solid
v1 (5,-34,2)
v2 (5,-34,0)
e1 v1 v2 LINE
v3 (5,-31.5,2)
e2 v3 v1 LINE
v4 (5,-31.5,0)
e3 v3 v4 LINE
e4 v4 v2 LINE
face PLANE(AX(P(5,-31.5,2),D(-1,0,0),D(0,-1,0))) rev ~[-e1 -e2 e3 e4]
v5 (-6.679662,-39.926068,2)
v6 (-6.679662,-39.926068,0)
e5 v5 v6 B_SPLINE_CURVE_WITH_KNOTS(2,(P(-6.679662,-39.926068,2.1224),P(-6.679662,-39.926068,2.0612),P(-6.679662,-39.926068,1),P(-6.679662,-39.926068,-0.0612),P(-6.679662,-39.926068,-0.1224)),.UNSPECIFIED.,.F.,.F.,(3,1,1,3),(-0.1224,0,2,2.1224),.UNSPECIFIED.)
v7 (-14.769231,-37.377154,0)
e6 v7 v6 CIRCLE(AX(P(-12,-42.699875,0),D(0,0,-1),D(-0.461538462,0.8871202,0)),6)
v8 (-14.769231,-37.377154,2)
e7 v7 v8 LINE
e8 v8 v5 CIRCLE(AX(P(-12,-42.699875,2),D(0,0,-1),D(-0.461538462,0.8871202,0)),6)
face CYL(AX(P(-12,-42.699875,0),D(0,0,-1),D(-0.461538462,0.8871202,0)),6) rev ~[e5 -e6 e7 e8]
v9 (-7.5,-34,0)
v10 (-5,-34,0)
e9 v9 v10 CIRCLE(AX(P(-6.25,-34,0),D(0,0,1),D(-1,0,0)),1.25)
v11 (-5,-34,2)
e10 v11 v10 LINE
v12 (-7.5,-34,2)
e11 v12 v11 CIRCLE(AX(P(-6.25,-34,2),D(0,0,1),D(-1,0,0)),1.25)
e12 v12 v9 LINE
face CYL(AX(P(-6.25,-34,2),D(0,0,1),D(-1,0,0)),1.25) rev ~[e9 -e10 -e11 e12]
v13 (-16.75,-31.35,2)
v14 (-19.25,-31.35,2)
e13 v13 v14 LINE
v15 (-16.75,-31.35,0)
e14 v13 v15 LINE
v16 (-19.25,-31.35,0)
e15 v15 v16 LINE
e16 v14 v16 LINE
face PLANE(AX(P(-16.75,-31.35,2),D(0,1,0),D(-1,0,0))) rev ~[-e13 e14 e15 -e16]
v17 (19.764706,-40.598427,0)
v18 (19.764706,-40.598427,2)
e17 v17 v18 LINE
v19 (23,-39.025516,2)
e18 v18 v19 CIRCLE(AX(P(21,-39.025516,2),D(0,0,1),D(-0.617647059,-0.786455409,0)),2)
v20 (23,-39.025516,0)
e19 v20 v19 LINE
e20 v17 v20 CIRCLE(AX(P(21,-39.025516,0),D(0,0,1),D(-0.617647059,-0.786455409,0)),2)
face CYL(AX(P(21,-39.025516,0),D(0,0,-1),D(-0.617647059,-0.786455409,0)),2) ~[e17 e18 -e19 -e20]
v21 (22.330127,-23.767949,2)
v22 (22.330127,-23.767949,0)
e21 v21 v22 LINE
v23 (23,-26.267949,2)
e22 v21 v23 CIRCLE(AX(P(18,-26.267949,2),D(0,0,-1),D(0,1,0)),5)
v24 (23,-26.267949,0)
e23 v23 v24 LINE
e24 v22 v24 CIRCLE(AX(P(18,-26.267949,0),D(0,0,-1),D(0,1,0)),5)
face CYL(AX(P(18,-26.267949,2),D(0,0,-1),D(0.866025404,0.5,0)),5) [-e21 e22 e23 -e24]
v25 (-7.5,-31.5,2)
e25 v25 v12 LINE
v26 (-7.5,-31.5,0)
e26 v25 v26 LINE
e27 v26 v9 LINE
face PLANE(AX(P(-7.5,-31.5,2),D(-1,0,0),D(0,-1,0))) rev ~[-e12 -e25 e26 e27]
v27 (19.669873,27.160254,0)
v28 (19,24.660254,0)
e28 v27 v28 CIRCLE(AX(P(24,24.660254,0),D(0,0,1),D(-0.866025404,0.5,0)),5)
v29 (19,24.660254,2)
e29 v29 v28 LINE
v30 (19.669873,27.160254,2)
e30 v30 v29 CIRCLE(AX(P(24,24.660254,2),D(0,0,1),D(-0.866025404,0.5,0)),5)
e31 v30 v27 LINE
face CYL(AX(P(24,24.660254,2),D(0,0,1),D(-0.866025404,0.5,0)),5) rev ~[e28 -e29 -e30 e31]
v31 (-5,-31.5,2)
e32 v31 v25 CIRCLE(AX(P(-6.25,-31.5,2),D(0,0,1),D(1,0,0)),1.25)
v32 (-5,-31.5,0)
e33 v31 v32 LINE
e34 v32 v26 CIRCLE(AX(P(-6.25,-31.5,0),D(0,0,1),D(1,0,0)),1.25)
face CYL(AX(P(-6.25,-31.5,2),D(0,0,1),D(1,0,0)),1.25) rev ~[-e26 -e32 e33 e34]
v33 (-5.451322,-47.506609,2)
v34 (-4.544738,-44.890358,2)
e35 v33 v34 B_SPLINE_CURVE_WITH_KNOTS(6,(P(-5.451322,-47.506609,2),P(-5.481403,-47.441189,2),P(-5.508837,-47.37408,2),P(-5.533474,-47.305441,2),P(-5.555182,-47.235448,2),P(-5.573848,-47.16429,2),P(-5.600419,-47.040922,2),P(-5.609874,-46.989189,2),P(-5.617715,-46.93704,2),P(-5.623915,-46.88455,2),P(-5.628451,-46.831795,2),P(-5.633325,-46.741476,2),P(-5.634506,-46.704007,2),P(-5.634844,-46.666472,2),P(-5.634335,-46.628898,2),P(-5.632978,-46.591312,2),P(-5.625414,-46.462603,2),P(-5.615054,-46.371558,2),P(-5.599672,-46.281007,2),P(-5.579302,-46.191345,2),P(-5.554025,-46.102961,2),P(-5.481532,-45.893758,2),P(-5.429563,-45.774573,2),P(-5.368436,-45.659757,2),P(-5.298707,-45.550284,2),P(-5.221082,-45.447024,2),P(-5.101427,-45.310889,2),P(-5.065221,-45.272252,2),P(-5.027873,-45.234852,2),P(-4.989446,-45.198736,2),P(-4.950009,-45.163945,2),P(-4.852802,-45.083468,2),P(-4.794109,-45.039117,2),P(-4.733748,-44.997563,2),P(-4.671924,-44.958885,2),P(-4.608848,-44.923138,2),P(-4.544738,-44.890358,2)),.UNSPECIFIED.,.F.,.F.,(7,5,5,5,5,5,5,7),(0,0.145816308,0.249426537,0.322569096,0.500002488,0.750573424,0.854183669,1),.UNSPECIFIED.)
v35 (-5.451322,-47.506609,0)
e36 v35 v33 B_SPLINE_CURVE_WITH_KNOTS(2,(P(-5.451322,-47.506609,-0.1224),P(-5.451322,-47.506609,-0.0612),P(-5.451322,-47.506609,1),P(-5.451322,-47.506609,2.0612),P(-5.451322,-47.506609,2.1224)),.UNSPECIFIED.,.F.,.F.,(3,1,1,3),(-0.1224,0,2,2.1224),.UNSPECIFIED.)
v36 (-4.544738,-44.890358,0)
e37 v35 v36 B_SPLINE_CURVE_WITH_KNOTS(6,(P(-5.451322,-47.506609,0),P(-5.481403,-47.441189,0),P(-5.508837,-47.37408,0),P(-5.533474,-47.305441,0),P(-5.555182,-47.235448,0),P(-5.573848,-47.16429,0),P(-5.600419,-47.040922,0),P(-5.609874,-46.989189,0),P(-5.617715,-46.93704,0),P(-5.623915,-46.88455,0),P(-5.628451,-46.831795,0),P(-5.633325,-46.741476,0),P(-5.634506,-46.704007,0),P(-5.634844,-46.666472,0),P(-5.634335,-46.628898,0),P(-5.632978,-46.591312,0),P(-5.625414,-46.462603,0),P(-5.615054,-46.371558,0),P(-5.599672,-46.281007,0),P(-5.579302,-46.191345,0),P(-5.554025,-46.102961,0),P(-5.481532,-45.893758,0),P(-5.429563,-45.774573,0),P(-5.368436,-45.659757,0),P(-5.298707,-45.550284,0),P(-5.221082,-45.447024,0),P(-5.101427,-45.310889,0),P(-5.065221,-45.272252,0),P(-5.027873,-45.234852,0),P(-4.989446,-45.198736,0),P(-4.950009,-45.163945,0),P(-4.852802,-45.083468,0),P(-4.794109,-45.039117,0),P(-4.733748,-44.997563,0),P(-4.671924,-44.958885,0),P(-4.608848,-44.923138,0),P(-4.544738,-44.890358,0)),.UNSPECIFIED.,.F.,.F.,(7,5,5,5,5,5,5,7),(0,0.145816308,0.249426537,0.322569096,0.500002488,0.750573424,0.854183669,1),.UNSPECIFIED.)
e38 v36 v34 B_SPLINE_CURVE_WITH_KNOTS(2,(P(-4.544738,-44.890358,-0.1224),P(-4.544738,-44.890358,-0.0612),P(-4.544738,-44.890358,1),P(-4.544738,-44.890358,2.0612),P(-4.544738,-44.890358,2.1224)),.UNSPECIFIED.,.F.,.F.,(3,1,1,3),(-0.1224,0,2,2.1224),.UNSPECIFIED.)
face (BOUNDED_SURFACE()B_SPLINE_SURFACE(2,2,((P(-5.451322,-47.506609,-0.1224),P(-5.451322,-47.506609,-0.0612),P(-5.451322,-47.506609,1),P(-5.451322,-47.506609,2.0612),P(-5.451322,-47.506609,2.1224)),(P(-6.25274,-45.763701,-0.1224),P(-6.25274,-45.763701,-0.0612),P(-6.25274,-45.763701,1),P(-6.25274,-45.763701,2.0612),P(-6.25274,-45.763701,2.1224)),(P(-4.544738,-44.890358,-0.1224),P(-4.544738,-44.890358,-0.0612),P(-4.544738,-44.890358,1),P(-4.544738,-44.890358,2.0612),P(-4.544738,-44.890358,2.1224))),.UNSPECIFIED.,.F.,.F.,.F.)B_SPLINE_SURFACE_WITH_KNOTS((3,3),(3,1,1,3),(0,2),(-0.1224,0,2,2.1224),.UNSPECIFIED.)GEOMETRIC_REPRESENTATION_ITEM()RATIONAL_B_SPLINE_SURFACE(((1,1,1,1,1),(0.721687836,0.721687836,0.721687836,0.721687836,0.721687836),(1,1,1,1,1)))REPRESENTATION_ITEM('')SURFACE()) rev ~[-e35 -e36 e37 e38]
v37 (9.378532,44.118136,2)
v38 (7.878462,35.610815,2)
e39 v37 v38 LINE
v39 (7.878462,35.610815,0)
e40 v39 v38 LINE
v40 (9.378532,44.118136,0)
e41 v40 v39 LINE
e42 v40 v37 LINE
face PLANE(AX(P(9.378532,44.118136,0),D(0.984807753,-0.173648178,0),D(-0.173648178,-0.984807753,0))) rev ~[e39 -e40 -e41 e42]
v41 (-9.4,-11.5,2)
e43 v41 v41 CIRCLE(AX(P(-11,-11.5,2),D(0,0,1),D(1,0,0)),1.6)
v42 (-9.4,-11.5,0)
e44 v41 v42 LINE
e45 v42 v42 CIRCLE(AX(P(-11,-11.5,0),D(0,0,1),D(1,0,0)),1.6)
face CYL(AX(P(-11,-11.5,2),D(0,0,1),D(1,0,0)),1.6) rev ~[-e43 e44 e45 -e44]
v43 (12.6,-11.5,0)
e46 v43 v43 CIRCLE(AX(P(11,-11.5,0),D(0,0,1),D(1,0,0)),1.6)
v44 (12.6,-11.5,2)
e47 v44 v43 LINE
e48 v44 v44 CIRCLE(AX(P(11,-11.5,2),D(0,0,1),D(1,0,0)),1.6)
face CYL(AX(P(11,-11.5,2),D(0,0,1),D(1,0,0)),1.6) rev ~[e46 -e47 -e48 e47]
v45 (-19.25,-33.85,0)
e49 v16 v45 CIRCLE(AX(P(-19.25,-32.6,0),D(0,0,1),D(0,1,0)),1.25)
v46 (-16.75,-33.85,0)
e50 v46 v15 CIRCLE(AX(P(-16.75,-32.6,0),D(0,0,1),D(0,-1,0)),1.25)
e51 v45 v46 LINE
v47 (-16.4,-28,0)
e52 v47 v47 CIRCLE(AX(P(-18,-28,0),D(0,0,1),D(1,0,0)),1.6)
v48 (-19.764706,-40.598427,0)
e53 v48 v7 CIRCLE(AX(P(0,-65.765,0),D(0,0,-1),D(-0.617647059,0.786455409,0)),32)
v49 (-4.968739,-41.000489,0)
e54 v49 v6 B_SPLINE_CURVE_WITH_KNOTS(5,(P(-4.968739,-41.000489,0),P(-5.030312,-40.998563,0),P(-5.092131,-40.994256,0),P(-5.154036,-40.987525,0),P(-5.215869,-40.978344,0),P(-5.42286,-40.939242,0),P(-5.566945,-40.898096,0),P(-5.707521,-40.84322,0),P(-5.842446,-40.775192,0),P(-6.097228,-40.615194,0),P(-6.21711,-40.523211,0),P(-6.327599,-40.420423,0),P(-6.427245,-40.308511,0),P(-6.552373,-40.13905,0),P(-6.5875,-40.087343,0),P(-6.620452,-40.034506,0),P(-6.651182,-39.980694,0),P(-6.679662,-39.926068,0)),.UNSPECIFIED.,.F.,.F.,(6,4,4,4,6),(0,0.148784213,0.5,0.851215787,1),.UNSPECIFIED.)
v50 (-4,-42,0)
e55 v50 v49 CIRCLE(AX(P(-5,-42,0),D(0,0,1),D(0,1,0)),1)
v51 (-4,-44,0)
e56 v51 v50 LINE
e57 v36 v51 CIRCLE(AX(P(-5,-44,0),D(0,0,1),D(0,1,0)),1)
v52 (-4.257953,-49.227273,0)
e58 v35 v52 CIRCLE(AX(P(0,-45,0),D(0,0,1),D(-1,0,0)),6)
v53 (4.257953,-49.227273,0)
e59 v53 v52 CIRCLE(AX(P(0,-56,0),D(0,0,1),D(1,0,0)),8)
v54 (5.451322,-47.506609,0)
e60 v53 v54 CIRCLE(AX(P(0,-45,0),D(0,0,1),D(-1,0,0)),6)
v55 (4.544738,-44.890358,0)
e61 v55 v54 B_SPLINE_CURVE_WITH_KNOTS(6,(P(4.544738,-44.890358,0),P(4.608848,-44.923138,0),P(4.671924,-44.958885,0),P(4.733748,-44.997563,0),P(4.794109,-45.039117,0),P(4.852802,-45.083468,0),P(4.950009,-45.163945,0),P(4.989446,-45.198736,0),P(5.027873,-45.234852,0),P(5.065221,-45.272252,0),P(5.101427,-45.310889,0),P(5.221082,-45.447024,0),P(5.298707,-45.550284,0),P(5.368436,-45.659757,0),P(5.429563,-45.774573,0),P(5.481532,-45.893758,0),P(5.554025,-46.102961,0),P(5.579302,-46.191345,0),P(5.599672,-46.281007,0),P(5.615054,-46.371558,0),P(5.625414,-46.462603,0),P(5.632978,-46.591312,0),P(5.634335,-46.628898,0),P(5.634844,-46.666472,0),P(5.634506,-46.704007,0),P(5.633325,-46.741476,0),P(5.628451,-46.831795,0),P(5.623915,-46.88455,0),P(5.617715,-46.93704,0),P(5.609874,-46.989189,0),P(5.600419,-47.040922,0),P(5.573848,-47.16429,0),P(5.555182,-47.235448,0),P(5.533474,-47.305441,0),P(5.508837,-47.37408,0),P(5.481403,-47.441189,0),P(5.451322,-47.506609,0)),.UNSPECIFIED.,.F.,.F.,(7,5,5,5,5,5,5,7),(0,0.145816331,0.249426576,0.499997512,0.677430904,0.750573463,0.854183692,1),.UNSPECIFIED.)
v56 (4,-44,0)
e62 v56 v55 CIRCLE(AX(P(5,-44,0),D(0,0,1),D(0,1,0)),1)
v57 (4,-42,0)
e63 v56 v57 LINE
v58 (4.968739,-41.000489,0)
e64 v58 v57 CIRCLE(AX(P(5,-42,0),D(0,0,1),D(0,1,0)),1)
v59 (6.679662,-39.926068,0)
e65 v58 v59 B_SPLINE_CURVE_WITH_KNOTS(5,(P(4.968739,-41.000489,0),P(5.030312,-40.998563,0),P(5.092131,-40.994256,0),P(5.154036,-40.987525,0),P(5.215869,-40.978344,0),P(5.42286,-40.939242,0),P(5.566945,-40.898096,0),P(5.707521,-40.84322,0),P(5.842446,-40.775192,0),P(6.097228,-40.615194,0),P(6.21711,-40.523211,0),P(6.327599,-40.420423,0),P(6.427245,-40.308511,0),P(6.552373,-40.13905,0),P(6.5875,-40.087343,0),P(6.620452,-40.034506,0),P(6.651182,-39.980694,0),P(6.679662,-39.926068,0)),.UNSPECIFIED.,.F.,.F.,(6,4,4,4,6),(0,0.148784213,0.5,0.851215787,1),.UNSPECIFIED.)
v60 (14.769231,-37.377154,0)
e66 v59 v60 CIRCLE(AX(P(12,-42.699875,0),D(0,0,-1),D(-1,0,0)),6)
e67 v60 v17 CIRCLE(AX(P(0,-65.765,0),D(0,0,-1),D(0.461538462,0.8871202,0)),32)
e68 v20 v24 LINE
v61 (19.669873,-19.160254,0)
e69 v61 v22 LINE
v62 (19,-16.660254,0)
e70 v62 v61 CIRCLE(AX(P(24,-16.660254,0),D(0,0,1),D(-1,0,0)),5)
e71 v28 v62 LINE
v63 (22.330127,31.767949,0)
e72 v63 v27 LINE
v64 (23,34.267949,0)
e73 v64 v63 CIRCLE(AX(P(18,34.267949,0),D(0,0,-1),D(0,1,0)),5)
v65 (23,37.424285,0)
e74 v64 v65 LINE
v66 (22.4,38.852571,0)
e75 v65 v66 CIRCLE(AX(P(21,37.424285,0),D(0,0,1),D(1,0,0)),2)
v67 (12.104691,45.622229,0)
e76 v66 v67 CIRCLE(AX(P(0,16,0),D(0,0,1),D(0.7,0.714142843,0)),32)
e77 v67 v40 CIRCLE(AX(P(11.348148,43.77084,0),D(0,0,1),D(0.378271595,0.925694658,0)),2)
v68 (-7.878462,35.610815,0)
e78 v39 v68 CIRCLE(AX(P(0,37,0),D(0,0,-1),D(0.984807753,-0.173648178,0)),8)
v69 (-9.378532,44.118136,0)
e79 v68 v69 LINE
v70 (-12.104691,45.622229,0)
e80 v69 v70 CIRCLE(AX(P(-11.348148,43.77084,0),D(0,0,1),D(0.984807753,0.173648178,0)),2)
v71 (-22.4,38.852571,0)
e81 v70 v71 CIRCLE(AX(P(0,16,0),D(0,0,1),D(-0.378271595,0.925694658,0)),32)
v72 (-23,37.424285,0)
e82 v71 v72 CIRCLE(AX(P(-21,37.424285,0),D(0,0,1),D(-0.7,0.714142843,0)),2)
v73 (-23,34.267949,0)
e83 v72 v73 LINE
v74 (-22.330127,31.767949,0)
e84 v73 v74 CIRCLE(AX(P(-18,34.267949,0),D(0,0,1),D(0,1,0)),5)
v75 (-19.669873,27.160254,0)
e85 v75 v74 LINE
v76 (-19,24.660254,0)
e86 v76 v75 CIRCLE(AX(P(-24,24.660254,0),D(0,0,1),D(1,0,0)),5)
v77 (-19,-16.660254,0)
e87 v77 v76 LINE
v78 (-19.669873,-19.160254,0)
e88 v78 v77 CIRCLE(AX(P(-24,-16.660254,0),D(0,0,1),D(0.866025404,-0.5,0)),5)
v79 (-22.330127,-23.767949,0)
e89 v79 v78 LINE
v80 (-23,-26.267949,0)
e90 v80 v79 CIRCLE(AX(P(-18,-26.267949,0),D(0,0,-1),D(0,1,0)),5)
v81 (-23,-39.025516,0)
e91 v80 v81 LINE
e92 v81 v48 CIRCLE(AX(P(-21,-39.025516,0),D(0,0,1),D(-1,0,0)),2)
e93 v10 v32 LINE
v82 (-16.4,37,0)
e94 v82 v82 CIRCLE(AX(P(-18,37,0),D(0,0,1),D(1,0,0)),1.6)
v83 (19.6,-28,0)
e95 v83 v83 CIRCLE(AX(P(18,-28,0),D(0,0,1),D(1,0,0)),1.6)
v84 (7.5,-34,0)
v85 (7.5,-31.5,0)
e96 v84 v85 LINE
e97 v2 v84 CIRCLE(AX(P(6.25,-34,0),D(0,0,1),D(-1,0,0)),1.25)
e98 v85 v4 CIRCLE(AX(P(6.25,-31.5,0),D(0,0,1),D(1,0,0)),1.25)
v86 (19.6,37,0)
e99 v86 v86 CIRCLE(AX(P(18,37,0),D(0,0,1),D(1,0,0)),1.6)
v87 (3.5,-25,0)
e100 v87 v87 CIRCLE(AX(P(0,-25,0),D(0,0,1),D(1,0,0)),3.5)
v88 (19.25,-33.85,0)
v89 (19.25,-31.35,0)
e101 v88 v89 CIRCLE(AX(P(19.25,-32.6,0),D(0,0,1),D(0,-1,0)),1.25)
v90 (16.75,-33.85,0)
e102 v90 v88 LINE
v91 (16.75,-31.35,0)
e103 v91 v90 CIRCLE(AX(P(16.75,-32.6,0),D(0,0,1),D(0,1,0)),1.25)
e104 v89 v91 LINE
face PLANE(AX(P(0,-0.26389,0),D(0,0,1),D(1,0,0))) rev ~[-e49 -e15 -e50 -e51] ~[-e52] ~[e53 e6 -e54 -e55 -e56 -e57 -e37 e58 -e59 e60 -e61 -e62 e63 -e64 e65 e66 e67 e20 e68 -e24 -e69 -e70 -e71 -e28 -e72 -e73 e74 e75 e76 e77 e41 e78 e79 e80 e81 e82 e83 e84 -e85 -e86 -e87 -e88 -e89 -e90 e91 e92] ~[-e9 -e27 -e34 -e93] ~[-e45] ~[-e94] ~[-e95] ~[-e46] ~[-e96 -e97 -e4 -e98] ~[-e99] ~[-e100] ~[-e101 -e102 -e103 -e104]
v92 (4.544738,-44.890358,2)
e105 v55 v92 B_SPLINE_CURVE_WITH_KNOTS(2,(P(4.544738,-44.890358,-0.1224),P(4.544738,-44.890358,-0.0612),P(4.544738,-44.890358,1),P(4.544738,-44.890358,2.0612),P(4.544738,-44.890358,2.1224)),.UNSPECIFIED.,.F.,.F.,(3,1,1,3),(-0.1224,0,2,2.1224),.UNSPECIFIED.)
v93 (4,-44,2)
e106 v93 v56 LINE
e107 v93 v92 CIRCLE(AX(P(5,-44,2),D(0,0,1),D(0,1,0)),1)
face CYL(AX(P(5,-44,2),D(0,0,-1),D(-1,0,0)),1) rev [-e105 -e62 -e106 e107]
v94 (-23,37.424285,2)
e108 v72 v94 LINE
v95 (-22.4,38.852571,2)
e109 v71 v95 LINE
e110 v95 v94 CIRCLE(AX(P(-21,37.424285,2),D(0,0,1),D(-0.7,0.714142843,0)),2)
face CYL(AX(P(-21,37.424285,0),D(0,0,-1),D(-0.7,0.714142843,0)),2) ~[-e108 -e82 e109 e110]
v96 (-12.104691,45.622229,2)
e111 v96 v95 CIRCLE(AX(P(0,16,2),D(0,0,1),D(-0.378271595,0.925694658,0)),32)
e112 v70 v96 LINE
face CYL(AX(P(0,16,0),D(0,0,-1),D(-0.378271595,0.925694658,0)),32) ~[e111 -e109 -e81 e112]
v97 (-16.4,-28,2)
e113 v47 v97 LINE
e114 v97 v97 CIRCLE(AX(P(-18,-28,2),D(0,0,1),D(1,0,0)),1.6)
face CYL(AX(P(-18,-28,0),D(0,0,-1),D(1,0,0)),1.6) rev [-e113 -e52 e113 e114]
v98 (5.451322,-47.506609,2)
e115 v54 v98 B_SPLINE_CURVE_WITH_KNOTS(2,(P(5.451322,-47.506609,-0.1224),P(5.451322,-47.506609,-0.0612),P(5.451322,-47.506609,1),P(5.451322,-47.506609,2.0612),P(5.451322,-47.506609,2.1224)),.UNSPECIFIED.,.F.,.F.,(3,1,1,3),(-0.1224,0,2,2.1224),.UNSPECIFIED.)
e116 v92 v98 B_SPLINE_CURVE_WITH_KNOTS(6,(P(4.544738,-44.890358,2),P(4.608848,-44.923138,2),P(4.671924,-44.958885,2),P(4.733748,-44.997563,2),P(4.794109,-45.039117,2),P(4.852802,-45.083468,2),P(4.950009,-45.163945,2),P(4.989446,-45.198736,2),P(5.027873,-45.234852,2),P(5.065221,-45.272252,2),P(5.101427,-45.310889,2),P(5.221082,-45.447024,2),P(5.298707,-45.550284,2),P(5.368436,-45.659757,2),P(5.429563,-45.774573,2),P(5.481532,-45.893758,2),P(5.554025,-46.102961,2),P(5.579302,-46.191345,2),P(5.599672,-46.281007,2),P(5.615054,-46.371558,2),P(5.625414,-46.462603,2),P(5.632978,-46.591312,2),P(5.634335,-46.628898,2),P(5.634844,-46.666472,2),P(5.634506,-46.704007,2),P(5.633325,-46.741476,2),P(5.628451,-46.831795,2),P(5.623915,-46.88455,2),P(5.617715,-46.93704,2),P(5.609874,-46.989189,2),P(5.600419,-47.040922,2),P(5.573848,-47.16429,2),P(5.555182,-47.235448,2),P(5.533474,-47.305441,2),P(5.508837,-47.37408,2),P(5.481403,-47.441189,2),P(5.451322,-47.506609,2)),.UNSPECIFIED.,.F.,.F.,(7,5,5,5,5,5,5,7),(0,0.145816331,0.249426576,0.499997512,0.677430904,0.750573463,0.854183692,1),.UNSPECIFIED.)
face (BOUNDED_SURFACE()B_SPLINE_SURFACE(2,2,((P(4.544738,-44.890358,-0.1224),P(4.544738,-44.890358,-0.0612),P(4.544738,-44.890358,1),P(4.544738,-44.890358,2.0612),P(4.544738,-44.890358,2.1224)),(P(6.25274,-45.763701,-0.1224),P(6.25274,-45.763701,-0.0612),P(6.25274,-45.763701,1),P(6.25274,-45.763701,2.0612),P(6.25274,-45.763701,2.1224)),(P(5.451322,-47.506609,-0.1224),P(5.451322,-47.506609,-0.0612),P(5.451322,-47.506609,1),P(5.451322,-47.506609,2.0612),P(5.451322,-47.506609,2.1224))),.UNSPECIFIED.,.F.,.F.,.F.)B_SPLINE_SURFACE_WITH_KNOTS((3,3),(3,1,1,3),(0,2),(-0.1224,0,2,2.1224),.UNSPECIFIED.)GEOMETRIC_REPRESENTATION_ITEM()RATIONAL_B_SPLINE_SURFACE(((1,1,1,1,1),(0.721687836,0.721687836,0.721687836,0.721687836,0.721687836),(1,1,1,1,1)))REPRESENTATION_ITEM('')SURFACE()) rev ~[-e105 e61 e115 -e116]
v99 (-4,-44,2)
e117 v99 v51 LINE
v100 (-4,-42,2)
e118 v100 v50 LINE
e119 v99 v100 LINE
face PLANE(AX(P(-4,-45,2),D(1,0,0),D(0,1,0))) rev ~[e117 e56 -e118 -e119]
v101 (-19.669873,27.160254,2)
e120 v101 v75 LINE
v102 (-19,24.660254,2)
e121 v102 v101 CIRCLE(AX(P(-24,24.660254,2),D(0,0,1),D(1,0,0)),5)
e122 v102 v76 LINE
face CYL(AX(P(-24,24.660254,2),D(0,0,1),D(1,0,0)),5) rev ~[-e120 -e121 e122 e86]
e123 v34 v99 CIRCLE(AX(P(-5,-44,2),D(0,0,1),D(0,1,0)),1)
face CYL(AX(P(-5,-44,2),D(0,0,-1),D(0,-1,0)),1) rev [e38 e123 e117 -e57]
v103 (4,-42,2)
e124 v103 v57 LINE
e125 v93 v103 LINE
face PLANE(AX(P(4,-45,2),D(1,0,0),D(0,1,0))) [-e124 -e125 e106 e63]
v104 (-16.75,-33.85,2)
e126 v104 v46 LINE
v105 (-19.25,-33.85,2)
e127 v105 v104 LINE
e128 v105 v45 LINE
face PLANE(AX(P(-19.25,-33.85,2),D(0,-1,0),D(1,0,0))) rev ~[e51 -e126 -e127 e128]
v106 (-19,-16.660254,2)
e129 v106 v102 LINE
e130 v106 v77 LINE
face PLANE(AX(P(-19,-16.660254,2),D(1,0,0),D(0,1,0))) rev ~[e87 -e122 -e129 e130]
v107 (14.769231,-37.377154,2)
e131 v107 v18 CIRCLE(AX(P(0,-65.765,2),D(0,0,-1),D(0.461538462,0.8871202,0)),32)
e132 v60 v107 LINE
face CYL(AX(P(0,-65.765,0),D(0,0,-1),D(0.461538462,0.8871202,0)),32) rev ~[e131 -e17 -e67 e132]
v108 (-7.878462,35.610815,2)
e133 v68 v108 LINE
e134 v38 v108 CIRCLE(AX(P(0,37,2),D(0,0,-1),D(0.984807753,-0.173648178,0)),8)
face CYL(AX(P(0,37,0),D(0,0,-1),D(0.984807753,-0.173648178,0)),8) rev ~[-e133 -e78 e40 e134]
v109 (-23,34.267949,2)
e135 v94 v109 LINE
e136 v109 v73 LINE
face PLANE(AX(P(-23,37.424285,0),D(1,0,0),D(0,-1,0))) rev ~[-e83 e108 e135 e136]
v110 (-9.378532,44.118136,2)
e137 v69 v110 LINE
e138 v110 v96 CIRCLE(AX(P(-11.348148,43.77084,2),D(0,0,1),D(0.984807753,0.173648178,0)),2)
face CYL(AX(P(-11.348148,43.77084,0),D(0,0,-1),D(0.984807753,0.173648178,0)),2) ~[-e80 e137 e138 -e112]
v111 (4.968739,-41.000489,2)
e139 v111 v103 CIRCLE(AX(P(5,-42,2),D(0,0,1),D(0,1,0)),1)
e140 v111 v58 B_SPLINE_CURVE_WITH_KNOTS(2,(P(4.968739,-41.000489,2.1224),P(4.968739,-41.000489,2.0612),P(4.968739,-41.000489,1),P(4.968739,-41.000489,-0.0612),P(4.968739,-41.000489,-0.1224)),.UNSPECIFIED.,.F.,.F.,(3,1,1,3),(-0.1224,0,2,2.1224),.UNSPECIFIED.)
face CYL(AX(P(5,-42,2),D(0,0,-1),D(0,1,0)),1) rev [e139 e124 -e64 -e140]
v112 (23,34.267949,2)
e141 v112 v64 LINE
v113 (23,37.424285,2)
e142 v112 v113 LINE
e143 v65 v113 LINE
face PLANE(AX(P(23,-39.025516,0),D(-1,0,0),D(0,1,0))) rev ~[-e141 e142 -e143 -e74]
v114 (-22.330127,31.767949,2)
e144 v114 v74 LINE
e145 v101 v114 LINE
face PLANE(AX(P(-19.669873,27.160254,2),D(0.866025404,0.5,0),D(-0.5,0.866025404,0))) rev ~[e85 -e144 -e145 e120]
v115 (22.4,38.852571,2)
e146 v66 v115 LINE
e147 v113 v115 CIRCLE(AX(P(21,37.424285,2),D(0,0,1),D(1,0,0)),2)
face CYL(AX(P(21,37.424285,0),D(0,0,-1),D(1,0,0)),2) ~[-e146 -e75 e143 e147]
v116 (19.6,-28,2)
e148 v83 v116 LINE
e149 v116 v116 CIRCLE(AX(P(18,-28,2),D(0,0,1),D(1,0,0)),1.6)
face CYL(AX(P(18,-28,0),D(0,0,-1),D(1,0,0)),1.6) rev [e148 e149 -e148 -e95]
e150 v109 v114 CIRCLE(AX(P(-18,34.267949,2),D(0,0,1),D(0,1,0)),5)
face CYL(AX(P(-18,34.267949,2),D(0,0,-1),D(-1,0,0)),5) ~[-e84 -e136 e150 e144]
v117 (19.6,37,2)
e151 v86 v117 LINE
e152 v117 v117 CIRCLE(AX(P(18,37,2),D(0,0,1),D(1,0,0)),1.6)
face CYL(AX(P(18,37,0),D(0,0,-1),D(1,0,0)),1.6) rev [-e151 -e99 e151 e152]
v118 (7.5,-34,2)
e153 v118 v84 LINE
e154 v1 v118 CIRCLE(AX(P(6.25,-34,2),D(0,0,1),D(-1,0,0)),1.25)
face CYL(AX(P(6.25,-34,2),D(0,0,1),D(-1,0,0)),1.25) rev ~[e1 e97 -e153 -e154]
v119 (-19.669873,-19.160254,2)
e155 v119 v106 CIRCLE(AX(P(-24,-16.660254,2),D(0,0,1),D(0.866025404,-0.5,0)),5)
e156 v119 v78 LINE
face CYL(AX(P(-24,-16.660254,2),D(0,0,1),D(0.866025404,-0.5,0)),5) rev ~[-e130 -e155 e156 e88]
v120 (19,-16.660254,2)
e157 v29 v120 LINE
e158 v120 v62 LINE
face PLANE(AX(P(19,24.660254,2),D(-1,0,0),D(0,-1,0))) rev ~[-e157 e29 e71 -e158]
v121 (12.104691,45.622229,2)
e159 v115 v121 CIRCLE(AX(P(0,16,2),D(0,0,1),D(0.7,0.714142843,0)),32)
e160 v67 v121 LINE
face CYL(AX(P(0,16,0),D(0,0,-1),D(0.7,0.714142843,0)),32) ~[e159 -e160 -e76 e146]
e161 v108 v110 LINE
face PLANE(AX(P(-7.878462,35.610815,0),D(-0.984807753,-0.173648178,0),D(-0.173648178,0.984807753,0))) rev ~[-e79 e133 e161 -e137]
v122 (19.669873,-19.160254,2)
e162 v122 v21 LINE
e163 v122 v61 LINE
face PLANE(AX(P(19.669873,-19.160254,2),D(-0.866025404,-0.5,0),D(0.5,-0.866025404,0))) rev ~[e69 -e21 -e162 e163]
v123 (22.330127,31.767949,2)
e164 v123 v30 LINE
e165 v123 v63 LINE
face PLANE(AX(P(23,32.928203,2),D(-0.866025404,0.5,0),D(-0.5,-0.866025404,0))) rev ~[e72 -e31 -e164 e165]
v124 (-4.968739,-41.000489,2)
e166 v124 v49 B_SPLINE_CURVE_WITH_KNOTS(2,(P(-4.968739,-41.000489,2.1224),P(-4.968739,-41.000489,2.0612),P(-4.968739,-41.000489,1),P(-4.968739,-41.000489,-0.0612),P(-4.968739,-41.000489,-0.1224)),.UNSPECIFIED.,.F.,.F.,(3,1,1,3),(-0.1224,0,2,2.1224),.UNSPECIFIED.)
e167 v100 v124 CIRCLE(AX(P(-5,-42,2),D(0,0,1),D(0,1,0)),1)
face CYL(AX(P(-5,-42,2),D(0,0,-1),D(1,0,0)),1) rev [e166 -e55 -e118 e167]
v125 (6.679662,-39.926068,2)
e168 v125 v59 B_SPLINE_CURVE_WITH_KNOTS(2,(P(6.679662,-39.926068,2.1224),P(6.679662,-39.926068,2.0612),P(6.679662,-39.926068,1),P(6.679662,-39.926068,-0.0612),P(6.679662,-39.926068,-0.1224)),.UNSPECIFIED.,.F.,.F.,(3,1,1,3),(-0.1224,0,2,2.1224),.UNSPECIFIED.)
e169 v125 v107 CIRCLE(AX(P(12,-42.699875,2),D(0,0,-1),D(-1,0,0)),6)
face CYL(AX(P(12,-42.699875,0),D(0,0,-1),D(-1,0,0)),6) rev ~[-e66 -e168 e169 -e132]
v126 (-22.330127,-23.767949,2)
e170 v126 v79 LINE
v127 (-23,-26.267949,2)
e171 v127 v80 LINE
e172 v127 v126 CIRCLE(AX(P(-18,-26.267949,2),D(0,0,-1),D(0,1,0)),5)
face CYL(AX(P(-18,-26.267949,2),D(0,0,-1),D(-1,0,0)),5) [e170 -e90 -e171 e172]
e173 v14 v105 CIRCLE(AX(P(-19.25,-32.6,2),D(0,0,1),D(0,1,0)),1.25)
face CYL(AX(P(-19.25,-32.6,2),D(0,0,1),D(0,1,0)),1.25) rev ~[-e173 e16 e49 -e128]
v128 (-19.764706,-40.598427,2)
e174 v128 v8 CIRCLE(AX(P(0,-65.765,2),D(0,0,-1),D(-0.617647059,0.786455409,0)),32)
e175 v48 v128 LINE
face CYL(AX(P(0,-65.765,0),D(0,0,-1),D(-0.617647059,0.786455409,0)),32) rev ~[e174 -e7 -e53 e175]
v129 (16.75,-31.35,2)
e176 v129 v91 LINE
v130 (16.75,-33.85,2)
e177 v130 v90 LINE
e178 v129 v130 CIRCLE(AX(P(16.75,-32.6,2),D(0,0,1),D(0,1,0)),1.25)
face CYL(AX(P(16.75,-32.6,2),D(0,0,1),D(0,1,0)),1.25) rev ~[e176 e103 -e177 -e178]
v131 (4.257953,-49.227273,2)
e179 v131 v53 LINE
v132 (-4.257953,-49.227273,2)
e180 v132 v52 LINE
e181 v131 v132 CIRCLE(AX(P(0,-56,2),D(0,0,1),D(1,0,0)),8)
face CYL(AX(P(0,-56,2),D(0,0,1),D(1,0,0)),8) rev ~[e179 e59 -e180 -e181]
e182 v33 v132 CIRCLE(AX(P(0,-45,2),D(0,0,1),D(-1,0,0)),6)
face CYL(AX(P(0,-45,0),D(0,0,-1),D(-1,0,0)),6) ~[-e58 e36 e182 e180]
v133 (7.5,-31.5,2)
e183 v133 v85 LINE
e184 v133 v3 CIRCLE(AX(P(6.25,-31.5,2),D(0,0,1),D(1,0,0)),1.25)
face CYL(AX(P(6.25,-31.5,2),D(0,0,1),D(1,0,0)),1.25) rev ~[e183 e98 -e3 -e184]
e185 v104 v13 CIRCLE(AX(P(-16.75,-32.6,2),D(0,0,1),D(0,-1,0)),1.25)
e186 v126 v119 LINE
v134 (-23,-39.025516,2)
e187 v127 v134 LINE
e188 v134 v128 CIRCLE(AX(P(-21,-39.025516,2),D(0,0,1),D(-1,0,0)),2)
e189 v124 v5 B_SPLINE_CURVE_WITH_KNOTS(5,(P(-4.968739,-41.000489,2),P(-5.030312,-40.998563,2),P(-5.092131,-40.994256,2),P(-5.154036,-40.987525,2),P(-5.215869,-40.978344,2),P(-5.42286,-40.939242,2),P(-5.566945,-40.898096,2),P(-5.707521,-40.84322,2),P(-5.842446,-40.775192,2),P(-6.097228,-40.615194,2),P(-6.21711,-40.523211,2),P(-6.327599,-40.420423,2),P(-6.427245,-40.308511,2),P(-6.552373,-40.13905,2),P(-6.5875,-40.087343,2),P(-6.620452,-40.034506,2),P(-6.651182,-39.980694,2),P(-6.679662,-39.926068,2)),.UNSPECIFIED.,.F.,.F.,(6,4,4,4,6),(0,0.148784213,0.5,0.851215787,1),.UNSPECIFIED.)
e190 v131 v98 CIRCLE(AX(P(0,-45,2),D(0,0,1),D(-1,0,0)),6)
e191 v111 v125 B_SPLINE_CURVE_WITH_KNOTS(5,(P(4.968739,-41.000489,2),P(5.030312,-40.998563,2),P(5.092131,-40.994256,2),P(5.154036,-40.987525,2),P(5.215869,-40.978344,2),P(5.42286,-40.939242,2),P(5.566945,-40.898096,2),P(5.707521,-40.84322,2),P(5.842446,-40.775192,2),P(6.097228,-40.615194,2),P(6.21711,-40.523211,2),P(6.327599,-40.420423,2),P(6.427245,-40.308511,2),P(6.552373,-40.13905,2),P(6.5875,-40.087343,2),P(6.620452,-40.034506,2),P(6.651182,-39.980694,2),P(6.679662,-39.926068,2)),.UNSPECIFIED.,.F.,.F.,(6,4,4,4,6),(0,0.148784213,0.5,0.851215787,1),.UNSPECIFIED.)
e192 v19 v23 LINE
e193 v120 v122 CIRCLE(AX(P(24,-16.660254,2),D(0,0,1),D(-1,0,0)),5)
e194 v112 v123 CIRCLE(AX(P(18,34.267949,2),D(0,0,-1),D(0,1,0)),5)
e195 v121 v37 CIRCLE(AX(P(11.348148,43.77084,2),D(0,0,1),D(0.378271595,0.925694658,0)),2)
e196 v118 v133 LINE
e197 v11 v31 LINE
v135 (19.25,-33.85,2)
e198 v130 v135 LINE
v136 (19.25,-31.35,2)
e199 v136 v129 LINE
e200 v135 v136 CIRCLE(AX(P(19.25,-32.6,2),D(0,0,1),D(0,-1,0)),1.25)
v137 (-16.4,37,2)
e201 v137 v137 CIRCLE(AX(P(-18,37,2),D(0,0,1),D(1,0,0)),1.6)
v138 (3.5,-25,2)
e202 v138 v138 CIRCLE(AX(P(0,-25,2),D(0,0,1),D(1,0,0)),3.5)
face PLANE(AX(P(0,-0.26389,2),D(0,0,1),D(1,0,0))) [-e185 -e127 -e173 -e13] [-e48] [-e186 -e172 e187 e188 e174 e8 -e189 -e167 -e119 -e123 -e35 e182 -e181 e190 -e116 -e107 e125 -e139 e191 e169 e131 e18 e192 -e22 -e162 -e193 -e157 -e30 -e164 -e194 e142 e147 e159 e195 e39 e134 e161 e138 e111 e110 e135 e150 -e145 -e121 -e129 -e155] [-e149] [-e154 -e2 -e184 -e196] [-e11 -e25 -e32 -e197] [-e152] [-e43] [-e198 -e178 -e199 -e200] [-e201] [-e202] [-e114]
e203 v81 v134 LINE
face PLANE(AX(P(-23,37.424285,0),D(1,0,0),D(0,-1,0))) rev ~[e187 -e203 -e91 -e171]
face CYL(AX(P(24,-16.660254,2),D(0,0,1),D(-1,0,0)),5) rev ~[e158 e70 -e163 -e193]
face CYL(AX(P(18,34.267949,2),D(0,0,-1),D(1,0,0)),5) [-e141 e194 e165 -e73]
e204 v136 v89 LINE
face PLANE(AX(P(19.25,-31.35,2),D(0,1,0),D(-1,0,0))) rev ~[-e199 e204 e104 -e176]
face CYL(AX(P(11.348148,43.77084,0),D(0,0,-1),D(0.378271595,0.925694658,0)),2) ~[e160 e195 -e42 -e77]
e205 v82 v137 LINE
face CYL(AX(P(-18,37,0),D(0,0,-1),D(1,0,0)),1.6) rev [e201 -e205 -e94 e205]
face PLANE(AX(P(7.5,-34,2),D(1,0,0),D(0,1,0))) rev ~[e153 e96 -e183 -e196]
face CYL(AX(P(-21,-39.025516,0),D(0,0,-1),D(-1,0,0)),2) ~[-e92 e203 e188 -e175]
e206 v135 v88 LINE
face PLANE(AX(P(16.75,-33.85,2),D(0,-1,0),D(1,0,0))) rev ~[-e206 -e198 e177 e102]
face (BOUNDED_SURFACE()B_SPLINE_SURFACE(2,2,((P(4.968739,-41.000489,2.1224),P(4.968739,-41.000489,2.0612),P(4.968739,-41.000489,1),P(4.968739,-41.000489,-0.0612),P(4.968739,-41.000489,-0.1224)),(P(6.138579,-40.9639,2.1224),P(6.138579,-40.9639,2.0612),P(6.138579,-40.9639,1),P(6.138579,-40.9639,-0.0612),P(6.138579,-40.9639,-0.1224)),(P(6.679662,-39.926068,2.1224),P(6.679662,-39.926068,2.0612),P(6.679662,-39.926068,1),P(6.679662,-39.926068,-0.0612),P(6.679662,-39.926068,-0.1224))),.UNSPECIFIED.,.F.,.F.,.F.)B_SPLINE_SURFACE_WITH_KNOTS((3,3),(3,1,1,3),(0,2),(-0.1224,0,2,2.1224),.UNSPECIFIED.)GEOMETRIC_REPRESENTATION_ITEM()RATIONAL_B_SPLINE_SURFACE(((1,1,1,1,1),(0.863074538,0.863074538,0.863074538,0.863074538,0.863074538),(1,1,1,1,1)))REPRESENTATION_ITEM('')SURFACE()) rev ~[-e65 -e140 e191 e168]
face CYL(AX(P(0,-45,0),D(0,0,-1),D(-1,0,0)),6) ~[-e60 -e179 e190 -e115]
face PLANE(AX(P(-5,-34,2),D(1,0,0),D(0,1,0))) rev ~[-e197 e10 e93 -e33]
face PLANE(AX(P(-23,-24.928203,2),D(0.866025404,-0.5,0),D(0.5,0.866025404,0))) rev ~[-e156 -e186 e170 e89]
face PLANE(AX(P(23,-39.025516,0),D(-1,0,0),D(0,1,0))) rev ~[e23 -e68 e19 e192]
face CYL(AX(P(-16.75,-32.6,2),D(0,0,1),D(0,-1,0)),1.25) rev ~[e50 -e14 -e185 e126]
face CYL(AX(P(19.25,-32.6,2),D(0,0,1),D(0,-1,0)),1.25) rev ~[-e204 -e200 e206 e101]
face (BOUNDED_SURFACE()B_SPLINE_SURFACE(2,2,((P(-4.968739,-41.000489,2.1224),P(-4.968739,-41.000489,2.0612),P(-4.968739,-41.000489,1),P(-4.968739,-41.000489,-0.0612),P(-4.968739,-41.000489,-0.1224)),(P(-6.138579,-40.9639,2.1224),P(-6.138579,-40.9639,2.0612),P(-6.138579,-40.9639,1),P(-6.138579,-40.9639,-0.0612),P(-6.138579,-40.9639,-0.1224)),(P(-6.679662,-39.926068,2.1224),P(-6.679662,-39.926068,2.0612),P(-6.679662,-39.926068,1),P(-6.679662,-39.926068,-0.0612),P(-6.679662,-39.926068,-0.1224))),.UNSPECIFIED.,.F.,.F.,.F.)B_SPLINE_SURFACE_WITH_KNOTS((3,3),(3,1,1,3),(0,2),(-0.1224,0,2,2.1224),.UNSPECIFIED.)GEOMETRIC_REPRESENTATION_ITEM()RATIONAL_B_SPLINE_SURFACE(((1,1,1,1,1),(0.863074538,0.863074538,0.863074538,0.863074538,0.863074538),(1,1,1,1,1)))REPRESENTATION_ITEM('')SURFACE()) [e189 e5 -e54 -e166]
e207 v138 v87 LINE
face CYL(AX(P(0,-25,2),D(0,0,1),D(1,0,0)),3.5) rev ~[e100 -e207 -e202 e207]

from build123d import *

# Parameters (mm, degrees)
F0_R      = 1.6
F1_DEPTH  = 2
F2_W      = 6
F2_H      = 4
F2_R      = 1.6
F2_R_2    = 3.5
F2_R_3    = 8
F3_DEPTH  = 2.001
F5_DEPTH  = 2.001
F6_R      = 5
F7_R      = 1
F8_R      = 2
F10_DEPTH = 2.0010001


with BuildPart() as f1:
    # F0 (on Top) → F1 (new body)
    with BuildSketch(Plane.XY):
        with BuildLine():
            ThreePointArc((-22.4, 38.8525709713), (-22.8439088915, 38.1988819549), (-23, 37.4242852856))
            Line((-23, 37.4242852856), (-23, -39.0255160858))
            ThreePointArc((-23, -39.0255160858), (-21.8744746322, -40.8242084212), (-19.7647058824, -40.5984269042))
            ThreePointArc((-19.7647058824, -40.5984269042), (-17.3419245059, -38.8715499716), (-14.7692307692, -37.3771536131))
            ThreePointArc((-14.7692307692, -37.3771536131), (-8.88675287, -37.5707723251), (-6, -42.6998748107))
            Line((-6, -42.6998748107), (-6, -45))
            ThreePointArc((-6, -45), (0, -51), (6, -45))
            Line((6, -45), (6, -42.6998748107))
            ThreePointArc((6, -42.6998748107), (8.88675287, -37.5707723251), (14.7692307692, -37.3771536131))
            ThreePointArc((14.7692307692, -37.3771536131), (17.3419245059, -38.8715499716), (19.7647058824, -40.5984269042))
            ThreePointArc((19.7647058824, -40.5984269042), (21.8744746322, -40.8242084212), (23, -39.0255160858))
            Line((23, -39.0255160858), (23, 37.4242852856))
            ThreePointArc((23, 37.4242852856), (22.8439088915, 38.1988819549), (22.4, 38.8525709713))
            ThreePointArc((22.4, 38.8525709713), (17.5812540395, 42.7376047244), (12.1046910387, 45.6222290663))
            ThreePointArc((12.1046910387, 45.6222290663), (10.3819905013, 45.5219936492), (9.3785323428, 44.118136105))
            Line((9.3785323428, 44.118136105), (7.8784620241, 35.6108145787))
            ThreePointArc((7.8784620241, 35.6108145787), (0, 29), (-7.8784620241, 35.6108145787))
            Line((-7.8784620241, 35.6108145787), (-9.3785323428, 44.118136105))
            ThreePointArc((-9.3785323428, 44.118136105), (-10.3819905013, 45.5219936492), (-12.1046910387, 45.6222290663))
            ThreePointArc((-12.1046910387, 45.6222290663), (-17.5812540395, 42.7376047244), (-22.4, 38.8525709713))
        make_face()
        with Locations((-18, -28)):
            Circle(F0_R, mode=Mode.SUBTRACT)
        with Locations((18, -28)):
            Circle(F0_R, mode=Mode.SUBTRACT)
        with Locations((-18, 37)):
            Circle(F0_R, mode=Mode.SUBTRACT)
        with Locations((18, 37)):
            Circle(F0_R, mode=Mode.SUBTRACT)
    extrude(amount=F1_DEPTH)

    # F2 (on face) → F3 (cut, through all)
    with BuildSketch(Plane.XY.offset(2)):
        with Locations((-7, -43)):
            Rectangle(F2_W, F2_H)
        with Locations((7, -43)):
            Rectangle(F2_W, F2_H)
        with BuildLine():
            Line((-5, -34), (-5, -31.5))
            ThreePointArc((-5, -31.5), (-6.25, -30.25), (-7.5, -31.5))
            Line((-7.5, -31.5), (-7.5, -34))
            ThreePointArc((-7.5, -34), (-6.25, -35.25), (-5, -34))
        make_face()
        with BuildLine():
            ThreePointArc((7.5, -31.5), (6.25, -30.25), (5, -31.5))
            Line((5, -31.5), (5, -34))
            ThreePointArc((5, -34), (6.25, -35.25), (7.5, -34))
            Line((7.5, -34), (7.5, -31.5))
        make_face()
        with Locations((-11, -11.5)):
            Circle(F2_R)
        with Locations((11, -11.5)):
            Circle(F2_R)
        with Locations((0, -25)):
            Circle(F2_R_2)
        with Locations((0, -56)):
            Circle(F2_R_3)
    extrude(amount=-F3_DEPTH, mode=Mode.SUBTRACT)

    # F4 (on face) → F5 (cut, through all)
    with BuildSketch(Plane.XY.offset(2)):
        with BuildLine():
            Line((-19, -16.6602540378), (-19, 24.6602540378))
            ThreePointArc((-19, 24.6602540378), (-19.1703708686, 25.9543492634), (-19.6698729811, 27.1602540378))
            Line((-19.6698729811, 27.1602540378), (-23, 32.9282032303))
            Line((-23, 32.9282032303), (-23, -24.9282032303))
            Line((-23, -24.9282032303), (-19.6698729811, -19.1602540378))
            ThreePointArc((-19.6698729811, -19.1602540378), (-19.1703708686, -17.9543492634), (-19, -16.6602540378))
        make_face()
        with BuildLine():
            ThreePointArc((19.6698729811, 27.1602540378), (19.1703708686, 25.9543492634), (19, 24.6602540378))
            Line((19, 24.6602540378), (19, -16.6602540378))
            ThreePointArc((19, -16.6602540378), (19.1703708686, -17.9543492634), (19.6698729811, -19.1602540378))
            Line((19.6698729811, -19.1602540378), (23, -24.9282032303))
            Line((23, -24.9282032303), (23, 32.9282032303))
            Line((23, 32.9282032303), (19.6698729811, 27.1602540378))
        make_face()
    extrude(amount=-F5_DEPTH, mode=Mode.SUBTRACT)

    # F6
    f6_edges = [f1.edges().sort_by_distance(p)[0] for p in [
        (-23, 32.928203, 1),
        (23, 32.928203, 1),
        (23, -24.928203, 1),
        (-23, -24.928203, 1),
    ]]
    fillet(f6_edges, radius=F6_R)

    # F7
    f7_edges = [f1.edges().sort_by_distance(p)[0] for p in [
        (-4, -41, 1),
        (-4, -45, 1),
        (4, -41, 1),
        (4, -45, 1),
    ]]
    fillet(f7_edges, radius=F7_R)

    # F8
    f8_edges = [f1.edges().sort_by_distance(p)[0] for p in [
        (-6.245834, -41, 1),
        (6.245834, -41, 1),
        (-6, -45, 1),
        (6, -45, 1),
    ]]
    fillet(f8_edges, radius=F8_R)

    # F9 (on face) → F10 (cut, through all)
    with BuildSketch(Plane.XY.offset(2)):
        with BuildLine():
            ThreePointArc((-16.75, -33.85), (-15.5, -32.6), (-16.75, -31.35))
            Line((-16.75, -31.35), (-19.25, -31.35))
            ThreePointArc((-19.25, -31.35), (-20.5, -32.6), (-19.25, -33.85))
            Line((-19.25, -33.85), (-16.75, -33.85))
        make_face()
        with BuildLine():
            Line((19.25, -31.35), (16.75, -31.35))
            ThreePointArc((16.75, -31.35), (15.5, -32.6), (16.75, -33.85))
            Line((16.75, -33.85), (19.25, -33.85))
            ThreePointArc((19.25, -33.85), (20.5, -32.6), (19.25, -31.35))
        make_face()
    extrude(amount=-F10_DEPTH, mode=Mode.SUBTRACT)


solid = f1.part
